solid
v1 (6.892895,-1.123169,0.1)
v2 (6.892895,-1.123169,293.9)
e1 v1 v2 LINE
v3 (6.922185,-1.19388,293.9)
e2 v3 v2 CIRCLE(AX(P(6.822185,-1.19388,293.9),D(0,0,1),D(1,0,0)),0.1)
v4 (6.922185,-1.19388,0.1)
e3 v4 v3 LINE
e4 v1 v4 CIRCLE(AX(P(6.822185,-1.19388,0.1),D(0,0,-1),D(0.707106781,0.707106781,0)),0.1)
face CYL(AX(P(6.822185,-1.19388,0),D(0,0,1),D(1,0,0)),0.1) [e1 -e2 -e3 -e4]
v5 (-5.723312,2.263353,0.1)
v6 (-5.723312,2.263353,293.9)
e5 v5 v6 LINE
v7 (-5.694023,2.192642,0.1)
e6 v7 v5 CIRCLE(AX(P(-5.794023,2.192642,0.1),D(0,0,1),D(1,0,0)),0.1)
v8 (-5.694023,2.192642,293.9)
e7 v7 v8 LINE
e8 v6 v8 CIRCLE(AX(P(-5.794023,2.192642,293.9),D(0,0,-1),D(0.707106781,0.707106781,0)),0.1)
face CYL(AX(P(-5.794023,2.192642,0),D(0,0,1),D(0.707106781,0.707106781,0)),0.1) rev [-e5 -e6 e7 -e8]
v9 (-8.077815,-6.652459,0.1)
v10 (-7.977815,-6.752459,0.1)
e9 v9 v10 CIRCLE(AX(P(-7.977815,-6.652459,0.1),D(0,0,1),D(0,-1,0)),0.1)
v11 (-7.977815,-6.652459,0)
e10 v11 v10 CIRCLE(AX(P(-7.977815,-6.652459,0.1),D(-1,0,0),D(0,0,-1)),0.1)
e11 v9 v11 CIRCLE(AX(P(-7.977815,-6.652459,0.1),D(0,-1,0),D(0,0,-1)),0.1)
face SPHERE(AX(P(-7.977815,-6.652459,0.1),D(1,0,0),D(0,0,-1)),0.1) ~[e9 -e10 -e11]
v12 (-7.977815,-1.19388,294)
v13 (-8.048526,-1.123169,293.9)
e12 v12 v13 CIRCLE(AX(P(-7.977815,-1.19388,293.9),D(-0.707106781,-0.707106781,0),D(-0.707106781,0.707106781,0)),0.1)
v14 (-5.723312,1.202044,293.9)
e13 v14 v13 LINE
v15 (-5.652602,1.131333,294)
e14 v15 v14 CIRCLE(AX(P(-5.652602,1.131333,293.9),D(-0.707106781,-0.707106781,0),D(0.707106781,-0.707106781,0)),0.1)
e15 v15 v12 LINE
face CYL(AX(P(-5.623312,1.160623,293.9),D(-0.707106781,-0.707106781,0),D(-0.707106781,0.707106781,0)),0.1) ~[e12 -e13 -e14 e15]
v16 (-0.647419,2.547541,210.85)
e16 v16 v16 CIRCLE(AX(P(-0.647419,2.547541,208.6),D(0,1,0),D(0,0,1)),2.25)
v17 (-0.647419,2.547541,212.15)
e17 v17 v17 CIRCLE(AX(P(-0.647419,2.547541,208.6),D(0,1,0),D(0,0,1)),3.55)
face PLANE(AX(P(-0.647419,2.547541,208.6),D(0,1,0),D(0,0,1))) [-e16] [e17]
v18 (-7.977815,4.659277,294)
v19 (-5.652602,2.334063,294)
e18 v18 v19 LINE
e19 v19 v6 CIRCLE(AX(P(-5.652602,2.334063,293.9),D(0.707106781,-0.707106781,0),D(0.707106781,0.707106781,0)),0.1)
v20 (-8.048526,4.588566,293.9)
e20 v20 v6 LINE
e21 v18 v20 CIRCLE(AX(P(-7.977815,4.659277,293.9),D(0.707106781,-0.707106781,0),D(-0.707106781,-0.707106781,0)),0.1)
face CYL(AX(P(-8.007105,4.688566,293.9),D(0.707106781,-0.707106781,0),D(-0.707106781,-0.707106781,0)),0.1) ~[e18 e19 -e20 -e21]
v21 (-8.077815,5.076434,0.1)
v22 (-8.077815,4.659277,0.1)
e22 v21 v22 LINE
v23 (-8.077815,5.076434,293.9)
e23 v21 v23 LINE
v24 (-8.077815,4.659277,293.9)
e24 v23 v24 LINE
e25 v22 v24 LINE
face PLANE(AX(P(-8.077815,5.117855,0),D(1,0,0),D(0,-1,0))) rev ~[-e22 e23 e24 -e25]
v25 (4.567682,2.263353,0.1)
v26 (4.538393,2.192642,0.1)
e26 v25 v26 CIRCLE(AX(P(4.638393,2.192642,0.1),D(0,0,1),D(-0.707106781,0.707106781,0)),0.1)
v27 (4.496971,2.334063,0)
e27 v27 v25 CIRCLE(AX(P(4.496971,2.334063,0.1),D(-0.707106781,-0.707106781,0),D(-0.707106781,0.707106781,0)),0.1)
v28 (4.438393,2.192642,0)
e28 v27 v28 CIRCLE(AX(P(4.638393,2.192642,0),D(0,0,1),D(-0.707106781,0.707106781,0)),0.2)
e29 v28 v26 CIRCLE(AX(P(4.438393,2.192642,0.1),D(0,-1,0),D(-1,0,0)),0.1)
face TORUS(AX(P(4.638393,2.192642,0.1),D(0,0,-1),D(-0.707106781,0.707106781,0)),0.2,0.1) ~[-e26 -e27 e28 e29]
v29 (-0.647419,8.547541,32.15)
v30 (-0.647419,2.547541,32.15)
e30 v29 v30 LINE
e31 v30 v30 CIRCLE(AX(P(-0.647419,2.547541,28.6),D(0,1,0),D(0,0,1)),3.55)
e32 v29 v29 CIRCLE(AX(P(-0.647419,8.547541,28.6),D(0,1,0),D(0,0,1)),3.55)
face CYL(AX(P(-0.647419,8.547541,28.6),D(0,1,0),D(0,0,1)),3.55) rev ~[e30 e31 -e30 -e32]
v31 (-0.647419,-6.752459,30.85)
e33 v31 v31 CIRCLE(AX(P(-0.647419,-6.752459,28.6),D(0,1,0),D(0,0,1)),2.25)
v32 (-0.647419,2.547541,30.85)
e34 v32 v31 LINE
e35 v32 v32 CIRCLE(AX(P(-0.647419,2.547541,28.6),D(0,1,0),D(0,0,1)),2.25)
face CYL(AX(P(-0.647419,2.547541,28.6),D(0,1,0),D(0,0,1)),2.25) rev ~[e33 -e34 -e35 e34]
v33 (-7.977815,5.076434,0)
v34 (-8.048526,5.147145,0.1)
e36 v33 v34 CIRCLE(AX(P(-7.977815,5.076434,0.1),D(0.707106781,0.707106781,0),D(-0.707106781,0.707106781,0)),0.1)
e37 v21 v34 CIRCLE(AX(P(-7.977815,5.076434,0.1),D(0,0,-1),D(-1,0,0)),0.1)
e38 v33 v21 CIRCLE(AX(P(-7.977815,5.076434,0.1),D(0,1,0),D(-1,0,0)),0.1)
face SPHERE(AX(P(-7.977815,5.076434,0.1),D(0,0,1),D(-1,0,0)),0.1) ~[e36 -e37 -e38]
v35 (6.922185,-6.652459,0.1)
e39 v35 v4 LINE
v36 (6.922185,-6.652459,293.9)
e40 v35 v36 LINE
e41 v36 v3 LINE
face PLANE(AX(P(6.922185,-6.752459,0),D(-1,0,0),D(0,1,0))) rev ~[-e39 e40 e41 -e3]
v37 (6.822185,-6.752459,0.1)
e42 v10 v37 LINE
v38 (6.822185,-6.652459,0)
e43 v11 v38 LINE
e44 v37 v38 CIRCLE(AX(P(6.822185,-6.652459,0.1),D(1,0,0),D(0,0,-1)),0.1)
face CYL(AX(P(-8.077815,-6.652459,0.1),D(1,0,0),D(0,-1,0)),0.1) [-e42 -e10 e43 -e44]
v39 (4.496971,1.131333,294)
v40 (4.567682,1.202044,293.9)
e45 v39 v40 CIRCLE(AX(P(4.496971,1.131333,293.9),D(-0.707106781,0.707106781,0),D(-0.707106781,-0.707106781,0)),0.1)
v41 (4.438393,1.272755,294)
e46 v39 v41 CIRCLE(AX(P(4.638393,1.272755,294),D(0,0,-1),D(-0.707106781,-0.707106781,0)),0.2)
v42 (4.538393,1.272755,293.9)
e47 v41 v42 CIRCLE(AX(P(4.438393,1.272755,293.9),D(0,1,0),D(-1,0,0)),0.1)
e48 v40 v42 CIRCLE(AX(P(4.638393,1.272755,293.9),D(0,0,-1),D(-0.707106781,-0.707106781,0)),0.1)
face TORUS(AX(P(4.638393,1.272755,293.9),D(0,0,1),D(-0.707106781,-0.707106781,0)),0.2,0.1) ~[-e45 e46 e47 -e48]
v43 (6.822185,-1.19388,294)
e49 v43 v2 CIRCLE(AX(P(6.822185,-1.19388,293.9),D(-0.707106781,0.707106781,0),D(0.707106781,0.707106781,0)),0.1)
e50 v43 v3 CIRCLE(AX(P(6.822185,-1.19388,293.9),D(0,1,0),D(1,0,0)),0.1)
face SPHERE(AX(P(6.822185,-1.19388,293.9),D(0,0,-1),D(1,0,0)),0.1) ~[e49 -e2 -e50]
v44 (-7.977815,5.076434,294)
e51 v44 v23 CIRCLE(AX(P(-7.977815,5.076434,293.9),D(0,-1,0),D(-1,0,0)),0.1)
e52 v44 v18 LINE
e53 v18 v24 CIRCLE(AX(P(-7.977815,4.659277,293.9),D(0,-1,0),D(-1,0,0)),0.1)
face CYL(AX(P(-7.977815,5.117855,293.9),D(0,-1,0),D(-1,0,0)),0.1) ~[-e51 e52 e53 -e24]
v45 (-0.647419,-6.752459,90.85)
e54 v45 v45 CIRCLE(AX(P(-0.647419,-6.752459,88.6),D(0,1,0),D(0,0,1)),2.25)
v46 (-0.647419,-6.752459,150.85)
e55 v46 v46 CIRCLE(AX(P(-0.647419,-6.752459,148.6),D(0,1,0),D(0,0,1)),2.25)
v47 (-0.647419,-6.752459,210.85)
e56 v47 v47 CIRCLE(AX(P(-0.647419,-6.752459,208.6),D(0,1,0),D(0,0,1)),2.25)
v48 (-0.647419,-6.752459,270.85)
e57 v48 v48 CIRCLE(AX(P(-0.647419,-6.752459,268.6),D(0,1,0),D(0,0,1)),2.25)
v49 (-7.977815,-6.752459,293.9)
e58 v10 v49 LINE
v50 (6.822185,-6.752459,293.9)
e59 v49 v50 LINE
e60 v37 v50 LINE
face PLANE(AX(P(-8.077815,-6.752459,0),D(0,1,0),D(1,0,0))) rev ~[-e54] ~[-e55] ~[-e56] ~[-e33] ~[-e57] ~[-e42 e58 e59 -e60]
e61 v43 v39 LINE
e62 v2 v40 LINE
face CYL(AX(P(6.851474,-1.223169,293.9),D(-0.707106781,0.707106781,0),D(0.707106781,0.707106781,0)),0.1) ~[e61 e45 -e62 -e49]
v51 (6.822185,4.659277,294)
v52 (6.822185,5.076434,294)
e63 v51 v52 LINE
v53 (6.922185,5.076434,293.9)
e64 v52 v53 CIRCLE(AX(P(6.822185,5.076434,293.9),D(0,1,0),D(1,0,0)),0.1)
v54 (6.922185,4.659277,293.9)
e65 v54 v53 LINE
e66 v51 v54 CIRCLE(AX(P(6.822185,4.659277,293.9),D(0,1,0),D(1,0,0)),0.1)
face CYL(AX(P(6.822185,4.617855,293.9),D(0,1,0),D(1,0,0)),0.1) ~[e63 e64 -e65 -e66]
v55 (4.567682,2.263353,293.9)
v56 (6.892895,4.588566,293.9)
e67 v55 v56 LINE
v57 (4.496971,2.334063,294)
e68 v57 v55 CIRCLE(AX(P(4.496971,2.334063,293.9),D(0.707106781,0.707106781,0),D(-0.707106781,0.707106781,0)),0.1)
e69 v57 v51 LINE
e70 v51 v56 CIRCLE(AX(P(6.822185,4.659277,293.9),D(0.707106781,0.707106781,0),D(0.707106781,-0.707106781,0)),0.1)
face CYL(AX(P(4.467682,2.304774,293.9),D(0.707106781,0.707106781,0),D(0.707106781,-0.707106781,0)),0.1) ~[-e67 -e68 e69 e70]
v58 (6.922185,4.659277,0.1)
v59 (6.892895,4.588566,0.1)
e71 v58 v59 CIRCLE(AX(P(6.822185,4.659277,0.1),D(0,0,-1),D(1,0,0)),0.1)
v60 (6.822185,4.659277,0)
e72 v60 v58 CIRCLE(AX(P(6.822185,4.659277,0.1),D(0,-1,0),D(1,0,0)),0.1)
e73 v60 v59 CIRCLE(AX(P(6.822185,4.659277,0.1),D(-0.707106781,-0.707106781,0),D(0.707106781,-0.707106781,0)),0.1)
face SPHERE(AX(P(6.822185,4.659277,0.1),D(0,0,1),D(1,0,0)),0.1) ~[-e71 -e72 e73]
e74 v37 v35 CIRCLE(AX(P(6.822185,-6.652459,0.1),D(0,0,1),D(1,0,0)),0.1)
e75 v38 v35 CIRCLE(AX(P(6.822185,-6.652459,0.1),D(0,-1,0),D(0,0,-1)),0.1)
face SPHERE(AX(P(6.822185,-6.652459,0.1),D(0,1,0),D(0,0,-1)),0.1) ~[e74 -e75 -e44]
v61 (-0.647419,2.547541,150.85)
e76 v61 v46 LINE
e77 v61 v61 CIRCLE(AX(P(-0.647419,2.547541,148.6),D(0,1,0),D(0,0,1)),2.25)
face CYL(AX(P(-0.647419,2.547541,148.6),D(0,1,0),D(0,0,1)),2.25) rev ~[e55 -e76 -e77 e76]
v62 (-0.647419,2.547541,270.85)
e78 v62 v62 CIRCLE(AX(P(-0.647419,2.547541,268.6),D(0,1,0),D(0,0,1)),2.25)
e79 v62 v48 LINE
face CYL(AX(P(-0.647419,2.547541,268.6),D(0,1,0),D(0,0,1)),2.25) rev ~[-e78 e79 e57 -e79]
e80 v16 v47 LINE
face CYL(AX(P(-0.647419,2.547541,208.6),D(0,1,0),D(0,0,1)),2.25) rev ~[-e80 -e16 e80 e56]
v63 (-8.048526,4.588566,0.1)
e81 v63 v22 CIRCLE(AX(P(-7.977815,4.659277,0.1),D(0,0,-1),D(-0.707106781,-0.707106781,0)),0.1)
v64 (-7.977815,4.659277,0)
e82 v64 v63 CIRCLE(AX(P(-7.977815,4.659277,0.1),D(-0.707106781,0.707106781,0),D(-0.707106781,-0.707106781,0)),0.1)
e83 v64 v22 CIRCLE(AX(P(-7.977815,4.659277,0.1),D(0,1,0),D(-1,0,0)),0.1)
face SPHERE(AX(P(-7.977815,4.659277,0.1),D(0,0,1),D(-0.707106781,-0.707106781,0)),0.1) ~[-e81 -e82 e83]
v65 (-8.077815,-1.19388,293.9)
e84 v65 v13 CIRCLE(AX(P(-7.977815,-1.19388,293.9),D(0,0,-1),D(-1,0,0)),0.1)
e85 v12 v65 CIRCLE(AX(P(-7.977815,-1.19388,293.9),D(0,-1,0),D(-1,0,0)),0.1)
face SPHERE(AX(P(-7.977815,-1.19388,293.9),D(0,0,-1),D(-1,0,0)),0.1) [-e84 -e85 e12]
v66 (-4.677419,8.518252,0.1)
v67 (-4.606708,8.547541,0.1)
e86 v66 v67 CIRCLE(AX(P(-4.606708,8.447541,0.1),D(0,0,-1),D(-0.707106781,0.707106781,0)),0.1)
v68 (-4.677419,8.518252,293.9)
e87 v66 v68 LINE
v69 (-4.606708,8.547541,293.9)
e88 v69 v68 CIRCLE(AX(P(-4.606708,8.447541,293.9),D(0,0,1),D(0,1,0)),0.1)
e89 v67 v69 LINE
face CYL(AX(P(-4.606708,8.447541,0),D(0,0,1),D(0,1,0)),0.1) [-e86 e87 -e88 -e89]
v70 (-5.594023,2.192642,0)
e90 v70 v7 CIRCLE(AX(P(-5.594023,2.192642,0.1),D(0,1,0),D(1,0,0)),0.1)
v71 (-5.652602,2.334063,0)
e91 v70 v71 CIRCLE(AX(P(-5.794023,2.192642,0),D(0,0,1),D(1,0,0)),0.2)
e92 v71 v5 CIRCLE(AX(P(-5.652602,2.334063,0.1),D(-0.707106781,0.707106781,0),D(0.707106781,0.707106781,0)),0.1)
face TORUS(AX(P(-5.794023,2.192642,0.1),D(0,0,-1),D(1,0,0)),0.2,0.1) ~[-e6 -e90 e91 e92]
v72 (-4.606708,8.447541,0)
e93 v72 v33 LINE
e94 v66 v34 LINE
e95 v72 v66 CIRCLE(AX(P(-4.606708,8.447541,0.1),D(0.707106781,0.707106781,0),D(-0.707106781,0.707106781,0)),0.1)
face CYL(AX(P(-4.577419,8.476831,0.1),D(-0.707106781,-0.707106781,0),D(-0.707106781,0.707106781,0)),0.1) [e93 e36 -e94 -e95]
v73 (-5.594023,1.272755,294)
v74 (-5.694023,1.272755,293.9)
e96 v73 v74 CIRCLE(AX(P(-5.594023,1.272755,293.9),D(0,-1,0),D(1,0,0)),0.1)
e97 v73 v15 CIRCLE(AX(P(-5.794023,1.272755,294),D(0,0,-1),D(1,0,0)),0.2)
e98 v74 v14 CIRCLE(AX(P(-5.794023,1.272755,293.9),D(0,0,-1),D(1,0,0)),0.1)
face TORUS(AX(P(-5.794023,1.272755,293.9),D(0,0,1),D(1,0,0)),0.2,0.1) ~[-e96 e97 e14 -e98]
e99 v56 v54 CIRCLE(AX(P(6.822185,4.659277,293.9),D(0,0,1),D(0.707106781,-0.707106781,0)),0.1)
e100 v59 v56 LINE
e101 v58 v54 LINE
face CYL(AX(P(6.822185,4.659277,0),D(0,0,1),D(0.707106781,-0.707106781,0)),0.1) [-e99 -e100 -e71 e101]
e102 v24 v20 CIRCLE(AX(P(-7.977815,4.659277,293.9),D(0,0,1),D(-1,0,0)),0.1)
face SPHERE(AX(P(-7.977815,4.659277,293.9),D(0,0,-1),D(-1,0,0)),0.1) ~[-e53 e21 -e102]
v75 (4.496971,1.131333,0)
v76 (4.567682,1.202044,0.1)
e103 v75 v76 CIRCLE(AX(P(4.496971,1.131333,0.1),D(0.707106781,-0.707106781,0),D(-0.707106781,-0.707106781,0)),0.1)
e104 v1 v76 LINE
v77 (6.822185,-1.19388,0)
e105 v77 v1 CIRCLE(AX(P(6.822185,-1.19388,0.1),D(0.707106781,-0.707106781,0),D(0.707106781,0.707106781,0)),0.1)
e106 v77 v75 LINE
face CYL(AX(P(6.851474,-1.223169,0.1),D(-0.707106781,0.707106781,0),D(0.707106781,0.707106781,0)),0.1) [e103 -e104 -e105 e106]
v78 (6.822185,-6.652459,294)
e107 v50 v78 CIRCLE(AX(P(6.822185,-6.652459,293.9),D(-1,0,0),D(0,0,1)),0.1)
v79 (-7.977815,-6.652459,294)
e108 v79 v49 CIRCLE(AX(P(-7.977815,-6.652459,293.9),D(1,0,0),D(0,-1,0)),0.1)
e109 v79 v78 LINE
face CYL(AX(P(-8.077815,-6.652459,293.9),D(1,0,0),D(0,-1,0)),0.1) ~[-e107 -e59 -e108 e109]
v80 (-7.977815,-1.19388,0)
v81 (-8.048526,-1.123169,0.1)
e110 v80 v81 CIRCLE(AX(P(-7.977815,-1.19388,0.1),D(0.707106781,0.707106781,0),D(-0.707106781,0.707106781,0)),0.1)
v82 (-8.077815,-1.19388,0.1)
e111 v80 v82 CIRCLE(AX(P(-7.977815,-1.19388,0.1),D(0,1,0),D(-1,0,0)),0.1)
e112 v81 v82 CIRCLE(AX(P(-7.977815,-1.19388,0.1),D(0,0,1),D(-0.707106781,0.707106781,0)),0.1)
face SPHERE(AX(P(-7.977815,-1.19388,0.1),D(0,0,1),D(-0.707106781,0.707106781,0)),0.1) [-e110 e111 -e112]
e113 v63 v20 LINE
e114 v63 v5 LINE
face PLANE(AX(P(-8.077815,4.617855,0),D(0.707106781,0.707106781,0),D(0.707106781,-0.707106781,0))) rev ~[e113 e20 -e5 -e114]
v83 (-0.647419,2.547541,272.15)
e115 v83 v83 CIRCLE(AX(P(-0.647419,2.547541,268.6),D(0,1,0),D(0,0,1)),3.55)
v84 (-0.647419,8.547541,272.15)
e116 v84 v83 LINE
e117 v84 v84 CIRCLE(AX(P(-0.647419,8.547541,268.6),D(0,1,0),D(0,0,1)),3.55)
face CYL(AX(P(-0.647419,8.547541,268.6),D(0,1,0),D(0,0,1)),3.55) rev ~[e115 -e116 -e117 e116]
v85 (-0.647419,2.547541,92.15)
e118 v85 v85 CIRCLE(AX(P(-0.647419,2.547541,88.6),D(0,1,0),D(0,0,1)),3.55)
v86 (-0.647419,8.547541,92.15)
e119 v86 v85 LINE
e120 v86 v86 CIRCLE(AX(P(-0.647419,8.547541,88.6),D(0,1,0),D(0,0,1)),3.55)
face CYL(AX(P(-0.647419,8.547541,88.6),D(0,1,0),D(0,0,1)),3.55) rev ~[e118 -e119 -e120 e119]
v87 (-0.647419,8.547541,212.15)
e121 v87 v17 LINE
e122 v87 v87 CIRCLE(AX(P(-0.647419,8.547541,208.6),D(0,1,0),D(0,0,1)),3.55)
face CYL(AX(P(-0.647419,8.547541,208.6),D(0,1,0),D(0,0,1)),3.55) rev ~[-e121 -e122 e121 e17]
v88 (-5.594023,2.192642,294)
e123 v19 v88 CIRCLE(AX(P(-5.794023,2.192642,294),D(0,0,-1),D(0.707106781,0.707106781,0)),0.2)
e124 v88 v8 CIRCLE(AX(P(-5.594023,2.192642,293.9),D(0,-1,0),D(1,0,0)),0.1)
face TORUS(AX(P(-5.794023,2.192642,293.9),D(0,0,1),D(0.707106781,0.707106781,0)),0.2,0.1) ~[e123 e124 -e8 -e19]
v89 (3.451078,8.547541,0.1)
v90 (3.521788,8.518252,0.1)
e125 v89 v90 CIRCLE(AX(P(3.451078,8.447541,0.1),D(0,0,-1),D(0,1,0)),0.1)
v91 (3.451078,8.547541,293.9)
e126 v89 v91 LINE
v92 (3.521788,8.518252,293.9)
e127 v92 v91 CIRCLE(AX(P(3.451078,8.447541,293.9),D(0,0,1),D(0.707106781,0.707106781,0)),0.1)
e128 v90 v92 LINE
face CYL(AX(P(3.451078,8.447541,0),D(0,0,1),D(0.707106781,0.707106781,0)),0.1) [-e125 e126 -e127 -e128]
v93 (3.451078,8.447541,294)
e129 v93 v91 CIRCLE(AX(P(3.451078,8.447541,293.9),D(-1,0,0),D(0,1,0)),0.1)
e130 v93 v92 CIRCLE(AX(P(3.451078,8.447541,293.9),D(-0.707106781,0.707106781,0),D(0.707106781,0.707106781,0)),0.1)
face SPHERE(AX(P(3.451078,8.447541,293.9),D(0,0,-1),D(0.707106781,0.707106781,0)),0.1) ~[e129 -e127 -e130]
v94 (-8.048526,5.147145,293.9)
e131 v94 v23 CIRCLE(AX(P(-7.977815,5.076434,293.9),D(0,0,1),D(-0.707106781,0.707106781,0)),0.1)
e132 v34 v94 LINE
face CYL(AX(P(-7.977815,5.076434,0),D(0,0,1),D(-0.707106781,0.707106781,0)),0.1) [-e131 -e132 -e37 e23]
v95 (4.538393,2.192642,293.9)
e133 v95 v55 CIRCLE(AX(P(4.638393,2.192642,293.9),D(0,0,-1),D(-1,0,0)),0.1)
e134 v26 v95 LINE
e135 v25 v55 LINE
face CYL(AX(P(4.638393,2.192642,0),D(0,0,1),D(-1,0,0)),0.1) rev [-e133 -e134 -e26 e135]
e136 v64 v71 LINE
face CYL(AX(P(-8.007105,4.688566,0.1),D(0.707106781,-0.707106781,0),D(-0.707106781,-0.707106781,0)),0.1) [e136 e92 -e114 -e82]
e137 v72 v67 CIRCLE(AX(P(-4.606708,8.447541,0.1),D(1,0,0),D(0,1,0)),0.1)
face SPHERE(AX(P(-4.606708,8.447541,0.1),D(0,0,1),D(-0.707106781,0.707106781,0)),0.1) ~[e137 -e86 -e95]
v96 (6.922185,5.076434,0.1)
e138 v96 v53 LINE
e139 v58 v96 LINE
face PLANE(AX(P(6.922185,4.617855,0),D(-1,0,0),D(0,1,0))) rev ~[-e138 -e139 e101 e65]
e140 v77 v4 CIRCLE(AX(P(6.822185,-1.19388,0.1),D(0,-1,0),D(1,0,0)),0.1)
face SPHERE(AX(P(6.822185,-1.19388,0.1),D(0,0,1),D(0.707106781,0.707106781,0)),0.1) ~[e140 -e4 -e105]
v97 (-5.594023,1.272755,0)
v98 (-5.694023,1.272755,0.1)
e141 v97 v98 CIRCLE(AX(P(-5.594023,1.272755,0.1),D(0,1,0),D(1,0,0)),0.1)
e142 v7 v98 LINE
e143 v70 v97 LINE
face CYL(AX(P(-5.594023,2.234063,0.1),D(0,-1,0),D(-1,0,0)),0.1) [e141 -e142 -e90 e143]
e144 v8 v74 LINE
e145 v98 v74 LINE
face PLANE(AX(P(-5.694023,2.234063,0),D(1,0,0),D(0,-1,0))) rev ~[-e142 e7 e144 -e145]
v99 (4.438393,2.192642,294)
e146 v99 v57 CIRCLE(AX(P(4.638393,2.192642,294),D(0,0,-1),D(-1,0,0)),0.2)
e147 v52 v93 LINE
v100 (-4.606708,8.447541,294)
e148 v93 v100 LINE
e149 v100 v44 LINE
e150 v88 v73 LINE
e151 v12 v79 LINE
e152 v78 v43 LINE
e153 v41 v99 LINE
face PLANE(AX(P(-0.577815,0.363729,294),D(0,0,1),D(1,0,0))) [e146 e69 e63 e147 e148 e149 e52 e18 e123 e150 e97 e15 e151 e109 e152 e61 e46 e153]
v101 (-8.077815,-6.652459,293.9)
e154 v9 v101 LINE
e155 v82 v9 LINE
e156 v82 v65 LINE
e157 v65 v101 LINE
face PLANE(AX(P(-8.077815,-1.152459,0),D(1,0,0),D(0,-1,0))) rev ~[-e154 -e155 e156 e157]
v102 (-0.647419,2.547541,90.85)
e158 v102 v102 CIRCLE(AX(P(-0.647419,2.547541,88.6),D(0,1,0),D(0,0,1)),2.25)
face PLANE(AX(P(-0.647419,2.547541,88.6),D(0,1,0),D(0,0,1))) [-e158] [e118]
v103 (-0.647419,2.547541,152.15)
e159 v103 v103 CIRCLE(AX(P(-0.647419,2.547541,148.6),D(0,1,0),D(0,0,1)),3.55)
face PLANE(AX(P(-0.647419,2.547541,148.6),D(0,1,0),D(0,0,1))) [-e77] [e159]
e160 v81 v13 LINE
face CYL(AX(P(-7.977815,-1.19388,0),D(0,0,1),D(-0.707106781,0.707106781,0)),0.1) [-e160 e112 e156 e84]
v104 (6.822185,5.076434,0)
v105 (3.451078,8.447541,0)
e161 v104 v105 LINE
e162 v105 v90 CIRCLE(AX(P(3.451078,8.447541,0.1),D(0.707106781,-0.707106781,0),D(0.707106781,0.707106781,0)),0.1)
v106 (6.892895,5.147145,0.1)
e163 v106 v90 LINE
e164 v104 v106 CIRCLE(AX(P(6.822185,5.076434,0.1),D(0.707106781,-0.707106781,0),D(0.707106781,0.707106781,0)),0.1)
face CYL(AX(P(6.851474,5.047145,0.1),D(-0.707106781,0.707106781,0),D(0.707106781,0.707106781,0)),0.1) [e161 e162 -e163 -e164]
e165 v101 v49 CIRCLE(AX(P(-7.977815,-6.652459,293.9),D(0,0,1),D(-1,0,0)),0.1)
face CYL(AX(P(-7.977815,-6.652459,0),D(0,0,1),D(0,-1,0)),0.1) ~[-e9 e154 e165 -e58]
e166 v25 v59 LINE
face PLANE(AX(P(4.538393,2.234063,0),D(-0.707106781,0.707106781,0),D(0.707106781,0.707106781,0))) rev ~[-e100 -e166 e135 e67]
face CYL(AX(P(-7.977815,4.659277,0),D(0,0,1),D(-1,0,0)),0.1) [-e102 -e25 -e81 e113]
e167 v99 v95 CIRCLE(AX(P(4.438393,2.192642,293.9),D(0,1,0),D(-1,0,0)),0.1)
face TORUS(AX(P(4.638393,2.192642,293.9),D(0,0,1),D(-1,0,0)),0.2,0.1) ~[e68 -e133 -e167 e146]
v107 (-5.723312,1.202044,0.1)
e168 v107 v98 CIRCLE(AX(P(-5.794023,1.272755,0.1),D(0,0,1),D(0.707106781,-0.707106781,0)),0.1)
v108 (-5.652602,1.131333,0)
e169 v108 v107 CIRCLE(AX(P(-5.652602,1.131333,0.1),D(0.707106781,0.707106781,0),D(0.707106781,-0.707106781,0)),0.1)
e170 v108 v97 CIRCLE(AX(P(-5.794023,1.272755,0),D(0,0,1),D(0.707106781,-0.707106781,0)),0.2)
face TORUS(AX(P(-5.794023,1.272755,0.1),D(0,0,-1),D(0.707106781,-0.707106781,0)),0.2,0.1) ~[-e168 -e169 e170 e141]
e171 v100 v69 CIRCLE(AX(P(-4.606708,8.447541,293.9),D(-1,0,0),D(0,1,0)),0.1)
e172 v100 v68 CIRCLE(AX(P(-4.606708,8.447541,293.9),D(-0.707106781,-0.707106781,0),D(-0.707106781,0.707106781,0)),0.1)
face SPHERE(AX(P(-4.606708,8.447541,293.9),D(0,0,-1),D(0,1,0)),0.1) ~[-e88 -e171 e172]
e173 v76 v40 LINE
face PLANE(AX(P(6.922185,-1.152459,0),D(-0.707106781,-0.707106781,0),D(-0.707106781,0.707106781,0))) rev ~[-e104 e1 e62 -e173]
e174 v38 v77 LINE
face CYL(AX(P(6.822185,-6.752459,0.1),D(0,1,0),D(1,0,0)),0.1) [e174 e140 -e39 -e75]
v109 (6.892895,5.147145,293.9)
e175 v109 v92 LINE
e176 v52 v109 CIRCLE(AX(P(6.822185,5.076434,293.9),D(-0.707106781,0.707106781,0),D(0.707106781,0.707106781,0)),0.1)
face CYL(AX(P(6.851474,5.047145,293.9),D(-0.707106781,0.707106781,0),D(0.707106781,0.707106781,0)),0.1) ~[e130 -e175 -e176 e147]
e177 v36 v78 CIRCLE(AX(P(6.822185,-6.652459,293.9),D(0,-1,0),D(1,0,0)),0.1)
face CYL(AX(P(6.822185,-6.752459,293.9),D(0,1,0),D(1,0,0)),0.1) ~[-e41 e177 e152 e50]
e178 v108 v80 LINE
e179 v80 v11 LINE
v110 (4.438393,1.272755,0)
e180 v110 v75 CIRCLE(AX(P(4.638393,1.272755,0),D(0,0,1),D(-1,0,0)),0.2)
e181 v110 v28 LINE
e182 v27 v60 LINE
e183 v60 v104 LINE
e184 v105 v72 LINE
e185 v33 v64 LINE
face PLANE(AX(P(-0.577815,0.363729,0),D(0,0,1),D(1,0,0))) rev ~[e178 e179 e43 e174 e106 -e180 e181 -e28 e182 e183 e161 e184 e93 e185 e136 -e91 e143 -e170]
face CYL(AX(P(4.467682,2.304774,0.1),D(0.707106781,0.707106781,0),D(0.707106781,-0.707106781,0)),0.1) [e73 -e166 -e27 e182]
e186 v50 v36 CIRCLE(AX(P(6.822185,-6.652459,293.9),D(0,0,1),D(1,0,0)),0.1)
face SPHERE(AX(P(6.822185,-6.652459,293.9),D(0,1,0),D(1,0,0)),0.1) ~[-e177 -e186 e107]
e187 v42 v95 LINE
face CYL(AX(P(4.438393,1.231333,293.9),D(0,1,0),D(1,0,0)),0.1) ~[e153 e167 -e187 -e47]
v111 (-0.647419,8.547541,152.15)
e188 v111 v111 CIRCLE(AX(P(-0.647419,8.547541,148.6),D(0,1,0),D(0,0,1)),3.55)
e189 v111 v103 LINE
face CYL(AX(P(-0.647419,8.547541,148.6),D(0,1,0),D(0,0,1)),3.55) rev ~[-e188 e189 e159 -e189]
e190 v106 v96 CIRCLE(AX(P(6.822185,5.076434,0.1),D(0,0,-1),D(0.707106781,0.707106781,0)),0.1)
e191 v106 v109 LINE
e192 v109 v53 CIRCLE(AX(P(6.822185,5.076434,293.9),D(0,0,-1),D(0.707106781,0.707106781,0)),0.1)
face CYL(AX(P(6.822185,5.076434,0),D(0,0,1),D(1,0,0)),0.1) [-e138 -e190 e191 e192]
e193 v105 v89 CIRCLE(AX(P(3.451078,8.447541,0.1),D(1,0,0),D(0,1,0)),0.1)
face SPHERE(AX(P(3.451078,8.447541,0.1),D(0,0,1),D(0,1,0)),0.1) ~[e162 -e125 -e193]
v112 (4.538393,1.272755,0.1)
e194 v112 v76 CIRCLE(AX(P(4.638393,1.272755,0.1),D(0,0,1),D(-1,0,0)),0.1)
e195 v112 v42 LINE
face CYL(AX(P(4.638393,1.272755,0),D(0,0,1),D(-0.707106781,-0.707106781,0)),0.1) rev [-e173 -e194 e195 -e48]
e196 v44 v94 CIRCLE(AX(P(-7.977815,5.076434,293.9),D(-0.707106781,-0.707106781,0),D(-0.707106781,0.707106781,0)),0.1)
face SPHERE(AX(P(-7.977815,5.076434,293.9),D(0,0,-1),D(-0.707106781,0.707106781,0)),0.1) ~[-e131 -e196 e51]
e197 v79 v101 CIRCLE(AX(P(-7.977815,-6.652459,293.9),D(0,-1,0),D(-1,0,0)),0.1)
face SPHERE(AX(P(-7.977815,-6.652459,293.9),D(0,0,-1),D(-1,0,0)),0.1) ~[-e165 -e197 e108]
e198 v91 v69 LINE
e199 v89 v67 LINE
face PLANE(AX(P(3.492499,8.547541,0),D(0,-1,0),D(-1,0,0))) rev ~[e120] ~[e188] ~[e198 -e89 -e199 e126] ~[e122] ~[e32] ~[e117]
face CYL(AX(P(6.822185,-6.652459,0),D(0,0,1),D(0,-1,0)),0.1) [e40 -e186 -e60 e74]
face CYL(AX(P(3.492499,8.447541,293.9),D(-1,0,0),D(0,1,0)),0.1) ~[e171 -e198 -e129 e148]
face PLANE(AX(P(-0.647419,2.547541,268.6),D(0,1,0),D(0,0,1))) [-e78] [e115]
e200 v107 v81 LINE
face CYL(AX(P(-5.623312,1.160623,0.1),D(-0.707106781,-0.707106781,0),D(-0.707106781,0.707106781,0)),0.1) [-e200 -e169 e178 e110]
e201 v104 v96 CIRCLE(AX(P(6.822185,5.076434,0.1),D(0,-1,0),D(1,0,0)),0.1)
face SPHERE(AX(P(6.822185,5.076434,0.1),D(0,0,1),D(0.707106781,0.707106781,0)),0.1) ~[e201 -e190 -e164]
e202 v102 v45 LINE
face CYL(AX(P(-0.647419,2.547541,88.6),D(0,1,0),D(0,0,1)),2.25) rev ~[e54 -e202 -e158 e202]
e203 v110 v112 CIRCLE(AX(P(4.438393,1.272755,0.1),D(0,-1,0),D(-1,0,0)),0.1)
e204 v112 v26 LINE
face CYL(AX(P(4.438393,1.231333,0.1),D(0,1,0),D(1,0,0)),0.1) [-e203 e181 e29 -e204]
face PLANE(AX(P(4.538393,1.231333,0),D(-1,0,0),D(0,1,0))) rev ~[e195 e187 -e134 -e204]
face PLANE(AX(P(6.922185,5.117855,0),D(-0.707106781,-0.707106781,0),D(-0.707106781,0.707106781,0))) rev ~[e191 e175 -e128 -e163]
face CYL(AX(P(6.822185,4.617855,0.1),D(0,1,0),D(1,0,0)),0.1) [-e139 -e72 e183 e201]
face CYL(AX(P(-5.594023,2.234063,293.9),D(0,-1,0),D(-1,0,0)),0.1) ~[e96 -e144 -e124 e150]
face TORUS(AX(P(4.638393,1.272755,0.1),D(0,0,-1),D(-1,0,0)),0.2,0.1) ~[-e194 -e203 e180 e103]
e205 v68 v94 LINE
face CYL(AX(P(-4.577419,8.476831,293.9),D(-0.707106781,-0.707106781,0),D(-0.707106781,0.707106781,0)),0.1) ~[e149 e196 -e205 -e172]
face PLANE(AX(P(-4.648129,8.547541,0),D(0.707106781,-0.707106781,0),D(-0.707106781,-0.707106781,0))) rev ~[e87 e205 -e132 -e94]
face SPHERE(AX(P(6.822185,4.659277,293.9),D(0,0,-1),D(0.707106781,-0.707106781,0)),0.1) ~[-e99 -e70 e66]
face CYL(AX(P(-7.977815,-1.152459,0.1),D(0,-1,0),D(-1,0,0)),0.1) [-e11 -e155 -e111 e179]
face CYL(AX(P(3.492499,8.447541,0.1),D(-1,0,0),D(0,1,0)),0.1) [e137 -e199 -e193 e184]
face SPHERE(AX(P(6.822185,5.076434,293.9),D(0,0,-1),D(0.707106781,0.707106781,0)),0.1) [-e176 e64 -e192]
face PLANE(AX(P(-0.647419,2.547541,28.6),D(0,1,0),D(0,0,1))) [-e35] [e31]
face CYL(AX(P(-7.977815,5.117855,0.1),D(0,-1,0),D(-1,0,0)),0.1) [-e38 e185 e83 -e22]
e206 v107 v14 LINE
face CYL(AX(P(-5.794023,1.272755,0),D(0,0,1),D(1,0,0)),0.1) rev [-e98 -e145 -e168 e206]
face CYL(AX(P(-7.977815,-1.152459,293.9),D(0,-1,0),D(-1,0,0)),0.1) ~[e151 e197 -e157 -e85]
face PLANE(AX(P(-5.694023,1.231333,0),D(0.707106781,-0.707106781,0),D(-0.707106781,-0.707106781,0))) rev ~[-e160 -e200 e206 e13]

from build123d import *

# Parameters (mm, degrees)
EXTRUDE_1_DEPTH        = 294
FILLET_1_R             = 0.1
SKETCH_2_R             = 3.55
CUT_EXTRUDE_1_DEPTH    = 6
PATTERN_LINEAR_1_COUNT = 20
PATTERN_LINEAR_1_PITCH = 60
SKETCH_3_R             = 2.25
CUT_EXTRUDE_3_DEPTH    = 20
PATTERN_LINEAR_2_COUNT = 20
PATTERN_LINEAR_2_PITCH = 60


with BuildPart() as part:
    # Эскиз1 → Бобышка-Вытянуть1 (new body)
    with BuildSketch(Plane.XY):
        Polygon((-8.077815221, -6.752458719), (6.922184779, -6.752458719), (6.922184779, -1.152458719), (4.538392714, 1.231333345), (4.538392714, 2.234063435), (6.922184779, 4.617855499), (6.922184779, 5.117855499), (3.492498997, 8.547541281), (-4.64812944, 8.547541281), (-8.077815221, 5.117855499), (-8.077815221, 4.617855499), (-5.694023157, 2.234063435), (-5.694023157, 1.231333345), (-8.077815221, -1.152458719), align=None)
    extrude(amount=EXTRUDE_1_DEPTH)

    # Скругление1
    fillet_1_edges = [part.edges().sort_by_distance(p)[0] for p in [
        (6.922184779, -3.952458719, 294),
        (-6.885919189, 0.039437313, 0),
        (-5.694023157, 1.73269839, 0),
        (5.730288746, 0.039437313, 294),
        (-6.885919189, 3.425959467, 0),
        (-8.077815221, 4.867855499, 0),
        (-6.362972331, 6.83269839, 0),
        (-0.577815221, 8.547541281, 0),
        (5.207341888, 6.83269839, 0),
        (6.922184779, 4.867855499, 0),
        (5.730288746, 3.425959467, 0),
        (4.538392714, 1.73269839, 294),
        (4.538392714, 1.73269839, 0),
        (5.730288746, 0.039437313, 0),
        (6.922184779, -3.952458719, 0),
        (-0.577815221, -6.752458719, 0),
        (-8.077815221, -3.952458719, 0),
        (5.730288746, 3.425959467, 294),
        (6.922184779, 4.867855499, 294),
        (-8.077815221, -1.152458719, 147),
        (-5.694023157, 1.231333345, 147),
        (-5.694023157, 2.234063435, 147),
        (-8.077815221, 4.617855499, 147),
        (-8.077815221, 5.117855499, 147),
        (-4.64812944, 8.547541281, 147),
        (3.492498997, 8.547541281, 147),
        (6.922184779, 5.117855499, 147),
        (6.922184779, 4.617855499, 147),
        (4.538392714, 2.234063435, 147),
        (4.538392714, 1.231333345, 147),
        (6.922184779, -1.152458719, 147),
        (6.922184779, -6.752458719, 147),
        (-8.077815221, -6.752458719, 147),
        (5.207341888, 6.83269839, 294),
        (-0.577815221, 8.547541281, 294),
        (-6.362972331, 6.83269839, 294),
        (-8.077815221, 4.867855499, 294),
        (-6.885919189, 3.425959467, 294),
        (-8.077815221, -3.952458719, 294),
        (-5.694023157, 1.73269839, 294),
        (-6.885919189, 0.039437313, 294),
        (-0.577815221, -6.752458719, 294),
    ]]
    fillet(fillet_1_edges, radius=FILLET_1_R)

    # Эскиз2 → Вырез-Вытянуть1 (cut)
    with BuildSketch(Plane(origin=(0, 8.547541281, 0), x_dir=(1, 0, 0), z_dir=(0, 1, 0))):
        with Locations(Location((-0.647418762, -28.6, 0), (0, 0, 270))):
            Circle(SKETCH_2_R)
    cut_extrude_1 = extrude(amount=-CUT_EXTRUDE_1_DEPTH, mode=Mode.SUBTRACT)

    # Линейный массив1: Вырез-Вытянуть1 ×20
    with Locations(*[(0, 0, i * PATTERN_LINEAR_1_PITCH) for i in range(1, PATTERN_LINEAR_1_COUNT)]):
        add(cut_extrude_1, mode=Mode.SUBTRACT)

    # Эскиз3 → Вырез-Вытянуть3 (cut)
    with BuildSketch(Plane(origin=(0, 2.547541281, 0), x_dir=(1, 0, 0), z_dir=(0, 1, 0))):
        with Locations(Location((-0.647418762, -28.6, 0), (0, 0, 270))):
            Circle(SKETCH_3_R)
    cut_extrude_3 = extrude(amount=-CUT_EXTRUDE_3_DEPTH, mode=Mode.SUBTRACT)

    # Линейный массив2: Вырез-Вытянуть3 ×20
    with Locations(*[(0, 0, i * PATTERN_LINEAR_2_PITCH) for i in range(1, PATTERN_LINEAR_2_COUNT)]):
        add(cut_extrude_3, mode=Mode.SUBTRACT)


solid = part.part
